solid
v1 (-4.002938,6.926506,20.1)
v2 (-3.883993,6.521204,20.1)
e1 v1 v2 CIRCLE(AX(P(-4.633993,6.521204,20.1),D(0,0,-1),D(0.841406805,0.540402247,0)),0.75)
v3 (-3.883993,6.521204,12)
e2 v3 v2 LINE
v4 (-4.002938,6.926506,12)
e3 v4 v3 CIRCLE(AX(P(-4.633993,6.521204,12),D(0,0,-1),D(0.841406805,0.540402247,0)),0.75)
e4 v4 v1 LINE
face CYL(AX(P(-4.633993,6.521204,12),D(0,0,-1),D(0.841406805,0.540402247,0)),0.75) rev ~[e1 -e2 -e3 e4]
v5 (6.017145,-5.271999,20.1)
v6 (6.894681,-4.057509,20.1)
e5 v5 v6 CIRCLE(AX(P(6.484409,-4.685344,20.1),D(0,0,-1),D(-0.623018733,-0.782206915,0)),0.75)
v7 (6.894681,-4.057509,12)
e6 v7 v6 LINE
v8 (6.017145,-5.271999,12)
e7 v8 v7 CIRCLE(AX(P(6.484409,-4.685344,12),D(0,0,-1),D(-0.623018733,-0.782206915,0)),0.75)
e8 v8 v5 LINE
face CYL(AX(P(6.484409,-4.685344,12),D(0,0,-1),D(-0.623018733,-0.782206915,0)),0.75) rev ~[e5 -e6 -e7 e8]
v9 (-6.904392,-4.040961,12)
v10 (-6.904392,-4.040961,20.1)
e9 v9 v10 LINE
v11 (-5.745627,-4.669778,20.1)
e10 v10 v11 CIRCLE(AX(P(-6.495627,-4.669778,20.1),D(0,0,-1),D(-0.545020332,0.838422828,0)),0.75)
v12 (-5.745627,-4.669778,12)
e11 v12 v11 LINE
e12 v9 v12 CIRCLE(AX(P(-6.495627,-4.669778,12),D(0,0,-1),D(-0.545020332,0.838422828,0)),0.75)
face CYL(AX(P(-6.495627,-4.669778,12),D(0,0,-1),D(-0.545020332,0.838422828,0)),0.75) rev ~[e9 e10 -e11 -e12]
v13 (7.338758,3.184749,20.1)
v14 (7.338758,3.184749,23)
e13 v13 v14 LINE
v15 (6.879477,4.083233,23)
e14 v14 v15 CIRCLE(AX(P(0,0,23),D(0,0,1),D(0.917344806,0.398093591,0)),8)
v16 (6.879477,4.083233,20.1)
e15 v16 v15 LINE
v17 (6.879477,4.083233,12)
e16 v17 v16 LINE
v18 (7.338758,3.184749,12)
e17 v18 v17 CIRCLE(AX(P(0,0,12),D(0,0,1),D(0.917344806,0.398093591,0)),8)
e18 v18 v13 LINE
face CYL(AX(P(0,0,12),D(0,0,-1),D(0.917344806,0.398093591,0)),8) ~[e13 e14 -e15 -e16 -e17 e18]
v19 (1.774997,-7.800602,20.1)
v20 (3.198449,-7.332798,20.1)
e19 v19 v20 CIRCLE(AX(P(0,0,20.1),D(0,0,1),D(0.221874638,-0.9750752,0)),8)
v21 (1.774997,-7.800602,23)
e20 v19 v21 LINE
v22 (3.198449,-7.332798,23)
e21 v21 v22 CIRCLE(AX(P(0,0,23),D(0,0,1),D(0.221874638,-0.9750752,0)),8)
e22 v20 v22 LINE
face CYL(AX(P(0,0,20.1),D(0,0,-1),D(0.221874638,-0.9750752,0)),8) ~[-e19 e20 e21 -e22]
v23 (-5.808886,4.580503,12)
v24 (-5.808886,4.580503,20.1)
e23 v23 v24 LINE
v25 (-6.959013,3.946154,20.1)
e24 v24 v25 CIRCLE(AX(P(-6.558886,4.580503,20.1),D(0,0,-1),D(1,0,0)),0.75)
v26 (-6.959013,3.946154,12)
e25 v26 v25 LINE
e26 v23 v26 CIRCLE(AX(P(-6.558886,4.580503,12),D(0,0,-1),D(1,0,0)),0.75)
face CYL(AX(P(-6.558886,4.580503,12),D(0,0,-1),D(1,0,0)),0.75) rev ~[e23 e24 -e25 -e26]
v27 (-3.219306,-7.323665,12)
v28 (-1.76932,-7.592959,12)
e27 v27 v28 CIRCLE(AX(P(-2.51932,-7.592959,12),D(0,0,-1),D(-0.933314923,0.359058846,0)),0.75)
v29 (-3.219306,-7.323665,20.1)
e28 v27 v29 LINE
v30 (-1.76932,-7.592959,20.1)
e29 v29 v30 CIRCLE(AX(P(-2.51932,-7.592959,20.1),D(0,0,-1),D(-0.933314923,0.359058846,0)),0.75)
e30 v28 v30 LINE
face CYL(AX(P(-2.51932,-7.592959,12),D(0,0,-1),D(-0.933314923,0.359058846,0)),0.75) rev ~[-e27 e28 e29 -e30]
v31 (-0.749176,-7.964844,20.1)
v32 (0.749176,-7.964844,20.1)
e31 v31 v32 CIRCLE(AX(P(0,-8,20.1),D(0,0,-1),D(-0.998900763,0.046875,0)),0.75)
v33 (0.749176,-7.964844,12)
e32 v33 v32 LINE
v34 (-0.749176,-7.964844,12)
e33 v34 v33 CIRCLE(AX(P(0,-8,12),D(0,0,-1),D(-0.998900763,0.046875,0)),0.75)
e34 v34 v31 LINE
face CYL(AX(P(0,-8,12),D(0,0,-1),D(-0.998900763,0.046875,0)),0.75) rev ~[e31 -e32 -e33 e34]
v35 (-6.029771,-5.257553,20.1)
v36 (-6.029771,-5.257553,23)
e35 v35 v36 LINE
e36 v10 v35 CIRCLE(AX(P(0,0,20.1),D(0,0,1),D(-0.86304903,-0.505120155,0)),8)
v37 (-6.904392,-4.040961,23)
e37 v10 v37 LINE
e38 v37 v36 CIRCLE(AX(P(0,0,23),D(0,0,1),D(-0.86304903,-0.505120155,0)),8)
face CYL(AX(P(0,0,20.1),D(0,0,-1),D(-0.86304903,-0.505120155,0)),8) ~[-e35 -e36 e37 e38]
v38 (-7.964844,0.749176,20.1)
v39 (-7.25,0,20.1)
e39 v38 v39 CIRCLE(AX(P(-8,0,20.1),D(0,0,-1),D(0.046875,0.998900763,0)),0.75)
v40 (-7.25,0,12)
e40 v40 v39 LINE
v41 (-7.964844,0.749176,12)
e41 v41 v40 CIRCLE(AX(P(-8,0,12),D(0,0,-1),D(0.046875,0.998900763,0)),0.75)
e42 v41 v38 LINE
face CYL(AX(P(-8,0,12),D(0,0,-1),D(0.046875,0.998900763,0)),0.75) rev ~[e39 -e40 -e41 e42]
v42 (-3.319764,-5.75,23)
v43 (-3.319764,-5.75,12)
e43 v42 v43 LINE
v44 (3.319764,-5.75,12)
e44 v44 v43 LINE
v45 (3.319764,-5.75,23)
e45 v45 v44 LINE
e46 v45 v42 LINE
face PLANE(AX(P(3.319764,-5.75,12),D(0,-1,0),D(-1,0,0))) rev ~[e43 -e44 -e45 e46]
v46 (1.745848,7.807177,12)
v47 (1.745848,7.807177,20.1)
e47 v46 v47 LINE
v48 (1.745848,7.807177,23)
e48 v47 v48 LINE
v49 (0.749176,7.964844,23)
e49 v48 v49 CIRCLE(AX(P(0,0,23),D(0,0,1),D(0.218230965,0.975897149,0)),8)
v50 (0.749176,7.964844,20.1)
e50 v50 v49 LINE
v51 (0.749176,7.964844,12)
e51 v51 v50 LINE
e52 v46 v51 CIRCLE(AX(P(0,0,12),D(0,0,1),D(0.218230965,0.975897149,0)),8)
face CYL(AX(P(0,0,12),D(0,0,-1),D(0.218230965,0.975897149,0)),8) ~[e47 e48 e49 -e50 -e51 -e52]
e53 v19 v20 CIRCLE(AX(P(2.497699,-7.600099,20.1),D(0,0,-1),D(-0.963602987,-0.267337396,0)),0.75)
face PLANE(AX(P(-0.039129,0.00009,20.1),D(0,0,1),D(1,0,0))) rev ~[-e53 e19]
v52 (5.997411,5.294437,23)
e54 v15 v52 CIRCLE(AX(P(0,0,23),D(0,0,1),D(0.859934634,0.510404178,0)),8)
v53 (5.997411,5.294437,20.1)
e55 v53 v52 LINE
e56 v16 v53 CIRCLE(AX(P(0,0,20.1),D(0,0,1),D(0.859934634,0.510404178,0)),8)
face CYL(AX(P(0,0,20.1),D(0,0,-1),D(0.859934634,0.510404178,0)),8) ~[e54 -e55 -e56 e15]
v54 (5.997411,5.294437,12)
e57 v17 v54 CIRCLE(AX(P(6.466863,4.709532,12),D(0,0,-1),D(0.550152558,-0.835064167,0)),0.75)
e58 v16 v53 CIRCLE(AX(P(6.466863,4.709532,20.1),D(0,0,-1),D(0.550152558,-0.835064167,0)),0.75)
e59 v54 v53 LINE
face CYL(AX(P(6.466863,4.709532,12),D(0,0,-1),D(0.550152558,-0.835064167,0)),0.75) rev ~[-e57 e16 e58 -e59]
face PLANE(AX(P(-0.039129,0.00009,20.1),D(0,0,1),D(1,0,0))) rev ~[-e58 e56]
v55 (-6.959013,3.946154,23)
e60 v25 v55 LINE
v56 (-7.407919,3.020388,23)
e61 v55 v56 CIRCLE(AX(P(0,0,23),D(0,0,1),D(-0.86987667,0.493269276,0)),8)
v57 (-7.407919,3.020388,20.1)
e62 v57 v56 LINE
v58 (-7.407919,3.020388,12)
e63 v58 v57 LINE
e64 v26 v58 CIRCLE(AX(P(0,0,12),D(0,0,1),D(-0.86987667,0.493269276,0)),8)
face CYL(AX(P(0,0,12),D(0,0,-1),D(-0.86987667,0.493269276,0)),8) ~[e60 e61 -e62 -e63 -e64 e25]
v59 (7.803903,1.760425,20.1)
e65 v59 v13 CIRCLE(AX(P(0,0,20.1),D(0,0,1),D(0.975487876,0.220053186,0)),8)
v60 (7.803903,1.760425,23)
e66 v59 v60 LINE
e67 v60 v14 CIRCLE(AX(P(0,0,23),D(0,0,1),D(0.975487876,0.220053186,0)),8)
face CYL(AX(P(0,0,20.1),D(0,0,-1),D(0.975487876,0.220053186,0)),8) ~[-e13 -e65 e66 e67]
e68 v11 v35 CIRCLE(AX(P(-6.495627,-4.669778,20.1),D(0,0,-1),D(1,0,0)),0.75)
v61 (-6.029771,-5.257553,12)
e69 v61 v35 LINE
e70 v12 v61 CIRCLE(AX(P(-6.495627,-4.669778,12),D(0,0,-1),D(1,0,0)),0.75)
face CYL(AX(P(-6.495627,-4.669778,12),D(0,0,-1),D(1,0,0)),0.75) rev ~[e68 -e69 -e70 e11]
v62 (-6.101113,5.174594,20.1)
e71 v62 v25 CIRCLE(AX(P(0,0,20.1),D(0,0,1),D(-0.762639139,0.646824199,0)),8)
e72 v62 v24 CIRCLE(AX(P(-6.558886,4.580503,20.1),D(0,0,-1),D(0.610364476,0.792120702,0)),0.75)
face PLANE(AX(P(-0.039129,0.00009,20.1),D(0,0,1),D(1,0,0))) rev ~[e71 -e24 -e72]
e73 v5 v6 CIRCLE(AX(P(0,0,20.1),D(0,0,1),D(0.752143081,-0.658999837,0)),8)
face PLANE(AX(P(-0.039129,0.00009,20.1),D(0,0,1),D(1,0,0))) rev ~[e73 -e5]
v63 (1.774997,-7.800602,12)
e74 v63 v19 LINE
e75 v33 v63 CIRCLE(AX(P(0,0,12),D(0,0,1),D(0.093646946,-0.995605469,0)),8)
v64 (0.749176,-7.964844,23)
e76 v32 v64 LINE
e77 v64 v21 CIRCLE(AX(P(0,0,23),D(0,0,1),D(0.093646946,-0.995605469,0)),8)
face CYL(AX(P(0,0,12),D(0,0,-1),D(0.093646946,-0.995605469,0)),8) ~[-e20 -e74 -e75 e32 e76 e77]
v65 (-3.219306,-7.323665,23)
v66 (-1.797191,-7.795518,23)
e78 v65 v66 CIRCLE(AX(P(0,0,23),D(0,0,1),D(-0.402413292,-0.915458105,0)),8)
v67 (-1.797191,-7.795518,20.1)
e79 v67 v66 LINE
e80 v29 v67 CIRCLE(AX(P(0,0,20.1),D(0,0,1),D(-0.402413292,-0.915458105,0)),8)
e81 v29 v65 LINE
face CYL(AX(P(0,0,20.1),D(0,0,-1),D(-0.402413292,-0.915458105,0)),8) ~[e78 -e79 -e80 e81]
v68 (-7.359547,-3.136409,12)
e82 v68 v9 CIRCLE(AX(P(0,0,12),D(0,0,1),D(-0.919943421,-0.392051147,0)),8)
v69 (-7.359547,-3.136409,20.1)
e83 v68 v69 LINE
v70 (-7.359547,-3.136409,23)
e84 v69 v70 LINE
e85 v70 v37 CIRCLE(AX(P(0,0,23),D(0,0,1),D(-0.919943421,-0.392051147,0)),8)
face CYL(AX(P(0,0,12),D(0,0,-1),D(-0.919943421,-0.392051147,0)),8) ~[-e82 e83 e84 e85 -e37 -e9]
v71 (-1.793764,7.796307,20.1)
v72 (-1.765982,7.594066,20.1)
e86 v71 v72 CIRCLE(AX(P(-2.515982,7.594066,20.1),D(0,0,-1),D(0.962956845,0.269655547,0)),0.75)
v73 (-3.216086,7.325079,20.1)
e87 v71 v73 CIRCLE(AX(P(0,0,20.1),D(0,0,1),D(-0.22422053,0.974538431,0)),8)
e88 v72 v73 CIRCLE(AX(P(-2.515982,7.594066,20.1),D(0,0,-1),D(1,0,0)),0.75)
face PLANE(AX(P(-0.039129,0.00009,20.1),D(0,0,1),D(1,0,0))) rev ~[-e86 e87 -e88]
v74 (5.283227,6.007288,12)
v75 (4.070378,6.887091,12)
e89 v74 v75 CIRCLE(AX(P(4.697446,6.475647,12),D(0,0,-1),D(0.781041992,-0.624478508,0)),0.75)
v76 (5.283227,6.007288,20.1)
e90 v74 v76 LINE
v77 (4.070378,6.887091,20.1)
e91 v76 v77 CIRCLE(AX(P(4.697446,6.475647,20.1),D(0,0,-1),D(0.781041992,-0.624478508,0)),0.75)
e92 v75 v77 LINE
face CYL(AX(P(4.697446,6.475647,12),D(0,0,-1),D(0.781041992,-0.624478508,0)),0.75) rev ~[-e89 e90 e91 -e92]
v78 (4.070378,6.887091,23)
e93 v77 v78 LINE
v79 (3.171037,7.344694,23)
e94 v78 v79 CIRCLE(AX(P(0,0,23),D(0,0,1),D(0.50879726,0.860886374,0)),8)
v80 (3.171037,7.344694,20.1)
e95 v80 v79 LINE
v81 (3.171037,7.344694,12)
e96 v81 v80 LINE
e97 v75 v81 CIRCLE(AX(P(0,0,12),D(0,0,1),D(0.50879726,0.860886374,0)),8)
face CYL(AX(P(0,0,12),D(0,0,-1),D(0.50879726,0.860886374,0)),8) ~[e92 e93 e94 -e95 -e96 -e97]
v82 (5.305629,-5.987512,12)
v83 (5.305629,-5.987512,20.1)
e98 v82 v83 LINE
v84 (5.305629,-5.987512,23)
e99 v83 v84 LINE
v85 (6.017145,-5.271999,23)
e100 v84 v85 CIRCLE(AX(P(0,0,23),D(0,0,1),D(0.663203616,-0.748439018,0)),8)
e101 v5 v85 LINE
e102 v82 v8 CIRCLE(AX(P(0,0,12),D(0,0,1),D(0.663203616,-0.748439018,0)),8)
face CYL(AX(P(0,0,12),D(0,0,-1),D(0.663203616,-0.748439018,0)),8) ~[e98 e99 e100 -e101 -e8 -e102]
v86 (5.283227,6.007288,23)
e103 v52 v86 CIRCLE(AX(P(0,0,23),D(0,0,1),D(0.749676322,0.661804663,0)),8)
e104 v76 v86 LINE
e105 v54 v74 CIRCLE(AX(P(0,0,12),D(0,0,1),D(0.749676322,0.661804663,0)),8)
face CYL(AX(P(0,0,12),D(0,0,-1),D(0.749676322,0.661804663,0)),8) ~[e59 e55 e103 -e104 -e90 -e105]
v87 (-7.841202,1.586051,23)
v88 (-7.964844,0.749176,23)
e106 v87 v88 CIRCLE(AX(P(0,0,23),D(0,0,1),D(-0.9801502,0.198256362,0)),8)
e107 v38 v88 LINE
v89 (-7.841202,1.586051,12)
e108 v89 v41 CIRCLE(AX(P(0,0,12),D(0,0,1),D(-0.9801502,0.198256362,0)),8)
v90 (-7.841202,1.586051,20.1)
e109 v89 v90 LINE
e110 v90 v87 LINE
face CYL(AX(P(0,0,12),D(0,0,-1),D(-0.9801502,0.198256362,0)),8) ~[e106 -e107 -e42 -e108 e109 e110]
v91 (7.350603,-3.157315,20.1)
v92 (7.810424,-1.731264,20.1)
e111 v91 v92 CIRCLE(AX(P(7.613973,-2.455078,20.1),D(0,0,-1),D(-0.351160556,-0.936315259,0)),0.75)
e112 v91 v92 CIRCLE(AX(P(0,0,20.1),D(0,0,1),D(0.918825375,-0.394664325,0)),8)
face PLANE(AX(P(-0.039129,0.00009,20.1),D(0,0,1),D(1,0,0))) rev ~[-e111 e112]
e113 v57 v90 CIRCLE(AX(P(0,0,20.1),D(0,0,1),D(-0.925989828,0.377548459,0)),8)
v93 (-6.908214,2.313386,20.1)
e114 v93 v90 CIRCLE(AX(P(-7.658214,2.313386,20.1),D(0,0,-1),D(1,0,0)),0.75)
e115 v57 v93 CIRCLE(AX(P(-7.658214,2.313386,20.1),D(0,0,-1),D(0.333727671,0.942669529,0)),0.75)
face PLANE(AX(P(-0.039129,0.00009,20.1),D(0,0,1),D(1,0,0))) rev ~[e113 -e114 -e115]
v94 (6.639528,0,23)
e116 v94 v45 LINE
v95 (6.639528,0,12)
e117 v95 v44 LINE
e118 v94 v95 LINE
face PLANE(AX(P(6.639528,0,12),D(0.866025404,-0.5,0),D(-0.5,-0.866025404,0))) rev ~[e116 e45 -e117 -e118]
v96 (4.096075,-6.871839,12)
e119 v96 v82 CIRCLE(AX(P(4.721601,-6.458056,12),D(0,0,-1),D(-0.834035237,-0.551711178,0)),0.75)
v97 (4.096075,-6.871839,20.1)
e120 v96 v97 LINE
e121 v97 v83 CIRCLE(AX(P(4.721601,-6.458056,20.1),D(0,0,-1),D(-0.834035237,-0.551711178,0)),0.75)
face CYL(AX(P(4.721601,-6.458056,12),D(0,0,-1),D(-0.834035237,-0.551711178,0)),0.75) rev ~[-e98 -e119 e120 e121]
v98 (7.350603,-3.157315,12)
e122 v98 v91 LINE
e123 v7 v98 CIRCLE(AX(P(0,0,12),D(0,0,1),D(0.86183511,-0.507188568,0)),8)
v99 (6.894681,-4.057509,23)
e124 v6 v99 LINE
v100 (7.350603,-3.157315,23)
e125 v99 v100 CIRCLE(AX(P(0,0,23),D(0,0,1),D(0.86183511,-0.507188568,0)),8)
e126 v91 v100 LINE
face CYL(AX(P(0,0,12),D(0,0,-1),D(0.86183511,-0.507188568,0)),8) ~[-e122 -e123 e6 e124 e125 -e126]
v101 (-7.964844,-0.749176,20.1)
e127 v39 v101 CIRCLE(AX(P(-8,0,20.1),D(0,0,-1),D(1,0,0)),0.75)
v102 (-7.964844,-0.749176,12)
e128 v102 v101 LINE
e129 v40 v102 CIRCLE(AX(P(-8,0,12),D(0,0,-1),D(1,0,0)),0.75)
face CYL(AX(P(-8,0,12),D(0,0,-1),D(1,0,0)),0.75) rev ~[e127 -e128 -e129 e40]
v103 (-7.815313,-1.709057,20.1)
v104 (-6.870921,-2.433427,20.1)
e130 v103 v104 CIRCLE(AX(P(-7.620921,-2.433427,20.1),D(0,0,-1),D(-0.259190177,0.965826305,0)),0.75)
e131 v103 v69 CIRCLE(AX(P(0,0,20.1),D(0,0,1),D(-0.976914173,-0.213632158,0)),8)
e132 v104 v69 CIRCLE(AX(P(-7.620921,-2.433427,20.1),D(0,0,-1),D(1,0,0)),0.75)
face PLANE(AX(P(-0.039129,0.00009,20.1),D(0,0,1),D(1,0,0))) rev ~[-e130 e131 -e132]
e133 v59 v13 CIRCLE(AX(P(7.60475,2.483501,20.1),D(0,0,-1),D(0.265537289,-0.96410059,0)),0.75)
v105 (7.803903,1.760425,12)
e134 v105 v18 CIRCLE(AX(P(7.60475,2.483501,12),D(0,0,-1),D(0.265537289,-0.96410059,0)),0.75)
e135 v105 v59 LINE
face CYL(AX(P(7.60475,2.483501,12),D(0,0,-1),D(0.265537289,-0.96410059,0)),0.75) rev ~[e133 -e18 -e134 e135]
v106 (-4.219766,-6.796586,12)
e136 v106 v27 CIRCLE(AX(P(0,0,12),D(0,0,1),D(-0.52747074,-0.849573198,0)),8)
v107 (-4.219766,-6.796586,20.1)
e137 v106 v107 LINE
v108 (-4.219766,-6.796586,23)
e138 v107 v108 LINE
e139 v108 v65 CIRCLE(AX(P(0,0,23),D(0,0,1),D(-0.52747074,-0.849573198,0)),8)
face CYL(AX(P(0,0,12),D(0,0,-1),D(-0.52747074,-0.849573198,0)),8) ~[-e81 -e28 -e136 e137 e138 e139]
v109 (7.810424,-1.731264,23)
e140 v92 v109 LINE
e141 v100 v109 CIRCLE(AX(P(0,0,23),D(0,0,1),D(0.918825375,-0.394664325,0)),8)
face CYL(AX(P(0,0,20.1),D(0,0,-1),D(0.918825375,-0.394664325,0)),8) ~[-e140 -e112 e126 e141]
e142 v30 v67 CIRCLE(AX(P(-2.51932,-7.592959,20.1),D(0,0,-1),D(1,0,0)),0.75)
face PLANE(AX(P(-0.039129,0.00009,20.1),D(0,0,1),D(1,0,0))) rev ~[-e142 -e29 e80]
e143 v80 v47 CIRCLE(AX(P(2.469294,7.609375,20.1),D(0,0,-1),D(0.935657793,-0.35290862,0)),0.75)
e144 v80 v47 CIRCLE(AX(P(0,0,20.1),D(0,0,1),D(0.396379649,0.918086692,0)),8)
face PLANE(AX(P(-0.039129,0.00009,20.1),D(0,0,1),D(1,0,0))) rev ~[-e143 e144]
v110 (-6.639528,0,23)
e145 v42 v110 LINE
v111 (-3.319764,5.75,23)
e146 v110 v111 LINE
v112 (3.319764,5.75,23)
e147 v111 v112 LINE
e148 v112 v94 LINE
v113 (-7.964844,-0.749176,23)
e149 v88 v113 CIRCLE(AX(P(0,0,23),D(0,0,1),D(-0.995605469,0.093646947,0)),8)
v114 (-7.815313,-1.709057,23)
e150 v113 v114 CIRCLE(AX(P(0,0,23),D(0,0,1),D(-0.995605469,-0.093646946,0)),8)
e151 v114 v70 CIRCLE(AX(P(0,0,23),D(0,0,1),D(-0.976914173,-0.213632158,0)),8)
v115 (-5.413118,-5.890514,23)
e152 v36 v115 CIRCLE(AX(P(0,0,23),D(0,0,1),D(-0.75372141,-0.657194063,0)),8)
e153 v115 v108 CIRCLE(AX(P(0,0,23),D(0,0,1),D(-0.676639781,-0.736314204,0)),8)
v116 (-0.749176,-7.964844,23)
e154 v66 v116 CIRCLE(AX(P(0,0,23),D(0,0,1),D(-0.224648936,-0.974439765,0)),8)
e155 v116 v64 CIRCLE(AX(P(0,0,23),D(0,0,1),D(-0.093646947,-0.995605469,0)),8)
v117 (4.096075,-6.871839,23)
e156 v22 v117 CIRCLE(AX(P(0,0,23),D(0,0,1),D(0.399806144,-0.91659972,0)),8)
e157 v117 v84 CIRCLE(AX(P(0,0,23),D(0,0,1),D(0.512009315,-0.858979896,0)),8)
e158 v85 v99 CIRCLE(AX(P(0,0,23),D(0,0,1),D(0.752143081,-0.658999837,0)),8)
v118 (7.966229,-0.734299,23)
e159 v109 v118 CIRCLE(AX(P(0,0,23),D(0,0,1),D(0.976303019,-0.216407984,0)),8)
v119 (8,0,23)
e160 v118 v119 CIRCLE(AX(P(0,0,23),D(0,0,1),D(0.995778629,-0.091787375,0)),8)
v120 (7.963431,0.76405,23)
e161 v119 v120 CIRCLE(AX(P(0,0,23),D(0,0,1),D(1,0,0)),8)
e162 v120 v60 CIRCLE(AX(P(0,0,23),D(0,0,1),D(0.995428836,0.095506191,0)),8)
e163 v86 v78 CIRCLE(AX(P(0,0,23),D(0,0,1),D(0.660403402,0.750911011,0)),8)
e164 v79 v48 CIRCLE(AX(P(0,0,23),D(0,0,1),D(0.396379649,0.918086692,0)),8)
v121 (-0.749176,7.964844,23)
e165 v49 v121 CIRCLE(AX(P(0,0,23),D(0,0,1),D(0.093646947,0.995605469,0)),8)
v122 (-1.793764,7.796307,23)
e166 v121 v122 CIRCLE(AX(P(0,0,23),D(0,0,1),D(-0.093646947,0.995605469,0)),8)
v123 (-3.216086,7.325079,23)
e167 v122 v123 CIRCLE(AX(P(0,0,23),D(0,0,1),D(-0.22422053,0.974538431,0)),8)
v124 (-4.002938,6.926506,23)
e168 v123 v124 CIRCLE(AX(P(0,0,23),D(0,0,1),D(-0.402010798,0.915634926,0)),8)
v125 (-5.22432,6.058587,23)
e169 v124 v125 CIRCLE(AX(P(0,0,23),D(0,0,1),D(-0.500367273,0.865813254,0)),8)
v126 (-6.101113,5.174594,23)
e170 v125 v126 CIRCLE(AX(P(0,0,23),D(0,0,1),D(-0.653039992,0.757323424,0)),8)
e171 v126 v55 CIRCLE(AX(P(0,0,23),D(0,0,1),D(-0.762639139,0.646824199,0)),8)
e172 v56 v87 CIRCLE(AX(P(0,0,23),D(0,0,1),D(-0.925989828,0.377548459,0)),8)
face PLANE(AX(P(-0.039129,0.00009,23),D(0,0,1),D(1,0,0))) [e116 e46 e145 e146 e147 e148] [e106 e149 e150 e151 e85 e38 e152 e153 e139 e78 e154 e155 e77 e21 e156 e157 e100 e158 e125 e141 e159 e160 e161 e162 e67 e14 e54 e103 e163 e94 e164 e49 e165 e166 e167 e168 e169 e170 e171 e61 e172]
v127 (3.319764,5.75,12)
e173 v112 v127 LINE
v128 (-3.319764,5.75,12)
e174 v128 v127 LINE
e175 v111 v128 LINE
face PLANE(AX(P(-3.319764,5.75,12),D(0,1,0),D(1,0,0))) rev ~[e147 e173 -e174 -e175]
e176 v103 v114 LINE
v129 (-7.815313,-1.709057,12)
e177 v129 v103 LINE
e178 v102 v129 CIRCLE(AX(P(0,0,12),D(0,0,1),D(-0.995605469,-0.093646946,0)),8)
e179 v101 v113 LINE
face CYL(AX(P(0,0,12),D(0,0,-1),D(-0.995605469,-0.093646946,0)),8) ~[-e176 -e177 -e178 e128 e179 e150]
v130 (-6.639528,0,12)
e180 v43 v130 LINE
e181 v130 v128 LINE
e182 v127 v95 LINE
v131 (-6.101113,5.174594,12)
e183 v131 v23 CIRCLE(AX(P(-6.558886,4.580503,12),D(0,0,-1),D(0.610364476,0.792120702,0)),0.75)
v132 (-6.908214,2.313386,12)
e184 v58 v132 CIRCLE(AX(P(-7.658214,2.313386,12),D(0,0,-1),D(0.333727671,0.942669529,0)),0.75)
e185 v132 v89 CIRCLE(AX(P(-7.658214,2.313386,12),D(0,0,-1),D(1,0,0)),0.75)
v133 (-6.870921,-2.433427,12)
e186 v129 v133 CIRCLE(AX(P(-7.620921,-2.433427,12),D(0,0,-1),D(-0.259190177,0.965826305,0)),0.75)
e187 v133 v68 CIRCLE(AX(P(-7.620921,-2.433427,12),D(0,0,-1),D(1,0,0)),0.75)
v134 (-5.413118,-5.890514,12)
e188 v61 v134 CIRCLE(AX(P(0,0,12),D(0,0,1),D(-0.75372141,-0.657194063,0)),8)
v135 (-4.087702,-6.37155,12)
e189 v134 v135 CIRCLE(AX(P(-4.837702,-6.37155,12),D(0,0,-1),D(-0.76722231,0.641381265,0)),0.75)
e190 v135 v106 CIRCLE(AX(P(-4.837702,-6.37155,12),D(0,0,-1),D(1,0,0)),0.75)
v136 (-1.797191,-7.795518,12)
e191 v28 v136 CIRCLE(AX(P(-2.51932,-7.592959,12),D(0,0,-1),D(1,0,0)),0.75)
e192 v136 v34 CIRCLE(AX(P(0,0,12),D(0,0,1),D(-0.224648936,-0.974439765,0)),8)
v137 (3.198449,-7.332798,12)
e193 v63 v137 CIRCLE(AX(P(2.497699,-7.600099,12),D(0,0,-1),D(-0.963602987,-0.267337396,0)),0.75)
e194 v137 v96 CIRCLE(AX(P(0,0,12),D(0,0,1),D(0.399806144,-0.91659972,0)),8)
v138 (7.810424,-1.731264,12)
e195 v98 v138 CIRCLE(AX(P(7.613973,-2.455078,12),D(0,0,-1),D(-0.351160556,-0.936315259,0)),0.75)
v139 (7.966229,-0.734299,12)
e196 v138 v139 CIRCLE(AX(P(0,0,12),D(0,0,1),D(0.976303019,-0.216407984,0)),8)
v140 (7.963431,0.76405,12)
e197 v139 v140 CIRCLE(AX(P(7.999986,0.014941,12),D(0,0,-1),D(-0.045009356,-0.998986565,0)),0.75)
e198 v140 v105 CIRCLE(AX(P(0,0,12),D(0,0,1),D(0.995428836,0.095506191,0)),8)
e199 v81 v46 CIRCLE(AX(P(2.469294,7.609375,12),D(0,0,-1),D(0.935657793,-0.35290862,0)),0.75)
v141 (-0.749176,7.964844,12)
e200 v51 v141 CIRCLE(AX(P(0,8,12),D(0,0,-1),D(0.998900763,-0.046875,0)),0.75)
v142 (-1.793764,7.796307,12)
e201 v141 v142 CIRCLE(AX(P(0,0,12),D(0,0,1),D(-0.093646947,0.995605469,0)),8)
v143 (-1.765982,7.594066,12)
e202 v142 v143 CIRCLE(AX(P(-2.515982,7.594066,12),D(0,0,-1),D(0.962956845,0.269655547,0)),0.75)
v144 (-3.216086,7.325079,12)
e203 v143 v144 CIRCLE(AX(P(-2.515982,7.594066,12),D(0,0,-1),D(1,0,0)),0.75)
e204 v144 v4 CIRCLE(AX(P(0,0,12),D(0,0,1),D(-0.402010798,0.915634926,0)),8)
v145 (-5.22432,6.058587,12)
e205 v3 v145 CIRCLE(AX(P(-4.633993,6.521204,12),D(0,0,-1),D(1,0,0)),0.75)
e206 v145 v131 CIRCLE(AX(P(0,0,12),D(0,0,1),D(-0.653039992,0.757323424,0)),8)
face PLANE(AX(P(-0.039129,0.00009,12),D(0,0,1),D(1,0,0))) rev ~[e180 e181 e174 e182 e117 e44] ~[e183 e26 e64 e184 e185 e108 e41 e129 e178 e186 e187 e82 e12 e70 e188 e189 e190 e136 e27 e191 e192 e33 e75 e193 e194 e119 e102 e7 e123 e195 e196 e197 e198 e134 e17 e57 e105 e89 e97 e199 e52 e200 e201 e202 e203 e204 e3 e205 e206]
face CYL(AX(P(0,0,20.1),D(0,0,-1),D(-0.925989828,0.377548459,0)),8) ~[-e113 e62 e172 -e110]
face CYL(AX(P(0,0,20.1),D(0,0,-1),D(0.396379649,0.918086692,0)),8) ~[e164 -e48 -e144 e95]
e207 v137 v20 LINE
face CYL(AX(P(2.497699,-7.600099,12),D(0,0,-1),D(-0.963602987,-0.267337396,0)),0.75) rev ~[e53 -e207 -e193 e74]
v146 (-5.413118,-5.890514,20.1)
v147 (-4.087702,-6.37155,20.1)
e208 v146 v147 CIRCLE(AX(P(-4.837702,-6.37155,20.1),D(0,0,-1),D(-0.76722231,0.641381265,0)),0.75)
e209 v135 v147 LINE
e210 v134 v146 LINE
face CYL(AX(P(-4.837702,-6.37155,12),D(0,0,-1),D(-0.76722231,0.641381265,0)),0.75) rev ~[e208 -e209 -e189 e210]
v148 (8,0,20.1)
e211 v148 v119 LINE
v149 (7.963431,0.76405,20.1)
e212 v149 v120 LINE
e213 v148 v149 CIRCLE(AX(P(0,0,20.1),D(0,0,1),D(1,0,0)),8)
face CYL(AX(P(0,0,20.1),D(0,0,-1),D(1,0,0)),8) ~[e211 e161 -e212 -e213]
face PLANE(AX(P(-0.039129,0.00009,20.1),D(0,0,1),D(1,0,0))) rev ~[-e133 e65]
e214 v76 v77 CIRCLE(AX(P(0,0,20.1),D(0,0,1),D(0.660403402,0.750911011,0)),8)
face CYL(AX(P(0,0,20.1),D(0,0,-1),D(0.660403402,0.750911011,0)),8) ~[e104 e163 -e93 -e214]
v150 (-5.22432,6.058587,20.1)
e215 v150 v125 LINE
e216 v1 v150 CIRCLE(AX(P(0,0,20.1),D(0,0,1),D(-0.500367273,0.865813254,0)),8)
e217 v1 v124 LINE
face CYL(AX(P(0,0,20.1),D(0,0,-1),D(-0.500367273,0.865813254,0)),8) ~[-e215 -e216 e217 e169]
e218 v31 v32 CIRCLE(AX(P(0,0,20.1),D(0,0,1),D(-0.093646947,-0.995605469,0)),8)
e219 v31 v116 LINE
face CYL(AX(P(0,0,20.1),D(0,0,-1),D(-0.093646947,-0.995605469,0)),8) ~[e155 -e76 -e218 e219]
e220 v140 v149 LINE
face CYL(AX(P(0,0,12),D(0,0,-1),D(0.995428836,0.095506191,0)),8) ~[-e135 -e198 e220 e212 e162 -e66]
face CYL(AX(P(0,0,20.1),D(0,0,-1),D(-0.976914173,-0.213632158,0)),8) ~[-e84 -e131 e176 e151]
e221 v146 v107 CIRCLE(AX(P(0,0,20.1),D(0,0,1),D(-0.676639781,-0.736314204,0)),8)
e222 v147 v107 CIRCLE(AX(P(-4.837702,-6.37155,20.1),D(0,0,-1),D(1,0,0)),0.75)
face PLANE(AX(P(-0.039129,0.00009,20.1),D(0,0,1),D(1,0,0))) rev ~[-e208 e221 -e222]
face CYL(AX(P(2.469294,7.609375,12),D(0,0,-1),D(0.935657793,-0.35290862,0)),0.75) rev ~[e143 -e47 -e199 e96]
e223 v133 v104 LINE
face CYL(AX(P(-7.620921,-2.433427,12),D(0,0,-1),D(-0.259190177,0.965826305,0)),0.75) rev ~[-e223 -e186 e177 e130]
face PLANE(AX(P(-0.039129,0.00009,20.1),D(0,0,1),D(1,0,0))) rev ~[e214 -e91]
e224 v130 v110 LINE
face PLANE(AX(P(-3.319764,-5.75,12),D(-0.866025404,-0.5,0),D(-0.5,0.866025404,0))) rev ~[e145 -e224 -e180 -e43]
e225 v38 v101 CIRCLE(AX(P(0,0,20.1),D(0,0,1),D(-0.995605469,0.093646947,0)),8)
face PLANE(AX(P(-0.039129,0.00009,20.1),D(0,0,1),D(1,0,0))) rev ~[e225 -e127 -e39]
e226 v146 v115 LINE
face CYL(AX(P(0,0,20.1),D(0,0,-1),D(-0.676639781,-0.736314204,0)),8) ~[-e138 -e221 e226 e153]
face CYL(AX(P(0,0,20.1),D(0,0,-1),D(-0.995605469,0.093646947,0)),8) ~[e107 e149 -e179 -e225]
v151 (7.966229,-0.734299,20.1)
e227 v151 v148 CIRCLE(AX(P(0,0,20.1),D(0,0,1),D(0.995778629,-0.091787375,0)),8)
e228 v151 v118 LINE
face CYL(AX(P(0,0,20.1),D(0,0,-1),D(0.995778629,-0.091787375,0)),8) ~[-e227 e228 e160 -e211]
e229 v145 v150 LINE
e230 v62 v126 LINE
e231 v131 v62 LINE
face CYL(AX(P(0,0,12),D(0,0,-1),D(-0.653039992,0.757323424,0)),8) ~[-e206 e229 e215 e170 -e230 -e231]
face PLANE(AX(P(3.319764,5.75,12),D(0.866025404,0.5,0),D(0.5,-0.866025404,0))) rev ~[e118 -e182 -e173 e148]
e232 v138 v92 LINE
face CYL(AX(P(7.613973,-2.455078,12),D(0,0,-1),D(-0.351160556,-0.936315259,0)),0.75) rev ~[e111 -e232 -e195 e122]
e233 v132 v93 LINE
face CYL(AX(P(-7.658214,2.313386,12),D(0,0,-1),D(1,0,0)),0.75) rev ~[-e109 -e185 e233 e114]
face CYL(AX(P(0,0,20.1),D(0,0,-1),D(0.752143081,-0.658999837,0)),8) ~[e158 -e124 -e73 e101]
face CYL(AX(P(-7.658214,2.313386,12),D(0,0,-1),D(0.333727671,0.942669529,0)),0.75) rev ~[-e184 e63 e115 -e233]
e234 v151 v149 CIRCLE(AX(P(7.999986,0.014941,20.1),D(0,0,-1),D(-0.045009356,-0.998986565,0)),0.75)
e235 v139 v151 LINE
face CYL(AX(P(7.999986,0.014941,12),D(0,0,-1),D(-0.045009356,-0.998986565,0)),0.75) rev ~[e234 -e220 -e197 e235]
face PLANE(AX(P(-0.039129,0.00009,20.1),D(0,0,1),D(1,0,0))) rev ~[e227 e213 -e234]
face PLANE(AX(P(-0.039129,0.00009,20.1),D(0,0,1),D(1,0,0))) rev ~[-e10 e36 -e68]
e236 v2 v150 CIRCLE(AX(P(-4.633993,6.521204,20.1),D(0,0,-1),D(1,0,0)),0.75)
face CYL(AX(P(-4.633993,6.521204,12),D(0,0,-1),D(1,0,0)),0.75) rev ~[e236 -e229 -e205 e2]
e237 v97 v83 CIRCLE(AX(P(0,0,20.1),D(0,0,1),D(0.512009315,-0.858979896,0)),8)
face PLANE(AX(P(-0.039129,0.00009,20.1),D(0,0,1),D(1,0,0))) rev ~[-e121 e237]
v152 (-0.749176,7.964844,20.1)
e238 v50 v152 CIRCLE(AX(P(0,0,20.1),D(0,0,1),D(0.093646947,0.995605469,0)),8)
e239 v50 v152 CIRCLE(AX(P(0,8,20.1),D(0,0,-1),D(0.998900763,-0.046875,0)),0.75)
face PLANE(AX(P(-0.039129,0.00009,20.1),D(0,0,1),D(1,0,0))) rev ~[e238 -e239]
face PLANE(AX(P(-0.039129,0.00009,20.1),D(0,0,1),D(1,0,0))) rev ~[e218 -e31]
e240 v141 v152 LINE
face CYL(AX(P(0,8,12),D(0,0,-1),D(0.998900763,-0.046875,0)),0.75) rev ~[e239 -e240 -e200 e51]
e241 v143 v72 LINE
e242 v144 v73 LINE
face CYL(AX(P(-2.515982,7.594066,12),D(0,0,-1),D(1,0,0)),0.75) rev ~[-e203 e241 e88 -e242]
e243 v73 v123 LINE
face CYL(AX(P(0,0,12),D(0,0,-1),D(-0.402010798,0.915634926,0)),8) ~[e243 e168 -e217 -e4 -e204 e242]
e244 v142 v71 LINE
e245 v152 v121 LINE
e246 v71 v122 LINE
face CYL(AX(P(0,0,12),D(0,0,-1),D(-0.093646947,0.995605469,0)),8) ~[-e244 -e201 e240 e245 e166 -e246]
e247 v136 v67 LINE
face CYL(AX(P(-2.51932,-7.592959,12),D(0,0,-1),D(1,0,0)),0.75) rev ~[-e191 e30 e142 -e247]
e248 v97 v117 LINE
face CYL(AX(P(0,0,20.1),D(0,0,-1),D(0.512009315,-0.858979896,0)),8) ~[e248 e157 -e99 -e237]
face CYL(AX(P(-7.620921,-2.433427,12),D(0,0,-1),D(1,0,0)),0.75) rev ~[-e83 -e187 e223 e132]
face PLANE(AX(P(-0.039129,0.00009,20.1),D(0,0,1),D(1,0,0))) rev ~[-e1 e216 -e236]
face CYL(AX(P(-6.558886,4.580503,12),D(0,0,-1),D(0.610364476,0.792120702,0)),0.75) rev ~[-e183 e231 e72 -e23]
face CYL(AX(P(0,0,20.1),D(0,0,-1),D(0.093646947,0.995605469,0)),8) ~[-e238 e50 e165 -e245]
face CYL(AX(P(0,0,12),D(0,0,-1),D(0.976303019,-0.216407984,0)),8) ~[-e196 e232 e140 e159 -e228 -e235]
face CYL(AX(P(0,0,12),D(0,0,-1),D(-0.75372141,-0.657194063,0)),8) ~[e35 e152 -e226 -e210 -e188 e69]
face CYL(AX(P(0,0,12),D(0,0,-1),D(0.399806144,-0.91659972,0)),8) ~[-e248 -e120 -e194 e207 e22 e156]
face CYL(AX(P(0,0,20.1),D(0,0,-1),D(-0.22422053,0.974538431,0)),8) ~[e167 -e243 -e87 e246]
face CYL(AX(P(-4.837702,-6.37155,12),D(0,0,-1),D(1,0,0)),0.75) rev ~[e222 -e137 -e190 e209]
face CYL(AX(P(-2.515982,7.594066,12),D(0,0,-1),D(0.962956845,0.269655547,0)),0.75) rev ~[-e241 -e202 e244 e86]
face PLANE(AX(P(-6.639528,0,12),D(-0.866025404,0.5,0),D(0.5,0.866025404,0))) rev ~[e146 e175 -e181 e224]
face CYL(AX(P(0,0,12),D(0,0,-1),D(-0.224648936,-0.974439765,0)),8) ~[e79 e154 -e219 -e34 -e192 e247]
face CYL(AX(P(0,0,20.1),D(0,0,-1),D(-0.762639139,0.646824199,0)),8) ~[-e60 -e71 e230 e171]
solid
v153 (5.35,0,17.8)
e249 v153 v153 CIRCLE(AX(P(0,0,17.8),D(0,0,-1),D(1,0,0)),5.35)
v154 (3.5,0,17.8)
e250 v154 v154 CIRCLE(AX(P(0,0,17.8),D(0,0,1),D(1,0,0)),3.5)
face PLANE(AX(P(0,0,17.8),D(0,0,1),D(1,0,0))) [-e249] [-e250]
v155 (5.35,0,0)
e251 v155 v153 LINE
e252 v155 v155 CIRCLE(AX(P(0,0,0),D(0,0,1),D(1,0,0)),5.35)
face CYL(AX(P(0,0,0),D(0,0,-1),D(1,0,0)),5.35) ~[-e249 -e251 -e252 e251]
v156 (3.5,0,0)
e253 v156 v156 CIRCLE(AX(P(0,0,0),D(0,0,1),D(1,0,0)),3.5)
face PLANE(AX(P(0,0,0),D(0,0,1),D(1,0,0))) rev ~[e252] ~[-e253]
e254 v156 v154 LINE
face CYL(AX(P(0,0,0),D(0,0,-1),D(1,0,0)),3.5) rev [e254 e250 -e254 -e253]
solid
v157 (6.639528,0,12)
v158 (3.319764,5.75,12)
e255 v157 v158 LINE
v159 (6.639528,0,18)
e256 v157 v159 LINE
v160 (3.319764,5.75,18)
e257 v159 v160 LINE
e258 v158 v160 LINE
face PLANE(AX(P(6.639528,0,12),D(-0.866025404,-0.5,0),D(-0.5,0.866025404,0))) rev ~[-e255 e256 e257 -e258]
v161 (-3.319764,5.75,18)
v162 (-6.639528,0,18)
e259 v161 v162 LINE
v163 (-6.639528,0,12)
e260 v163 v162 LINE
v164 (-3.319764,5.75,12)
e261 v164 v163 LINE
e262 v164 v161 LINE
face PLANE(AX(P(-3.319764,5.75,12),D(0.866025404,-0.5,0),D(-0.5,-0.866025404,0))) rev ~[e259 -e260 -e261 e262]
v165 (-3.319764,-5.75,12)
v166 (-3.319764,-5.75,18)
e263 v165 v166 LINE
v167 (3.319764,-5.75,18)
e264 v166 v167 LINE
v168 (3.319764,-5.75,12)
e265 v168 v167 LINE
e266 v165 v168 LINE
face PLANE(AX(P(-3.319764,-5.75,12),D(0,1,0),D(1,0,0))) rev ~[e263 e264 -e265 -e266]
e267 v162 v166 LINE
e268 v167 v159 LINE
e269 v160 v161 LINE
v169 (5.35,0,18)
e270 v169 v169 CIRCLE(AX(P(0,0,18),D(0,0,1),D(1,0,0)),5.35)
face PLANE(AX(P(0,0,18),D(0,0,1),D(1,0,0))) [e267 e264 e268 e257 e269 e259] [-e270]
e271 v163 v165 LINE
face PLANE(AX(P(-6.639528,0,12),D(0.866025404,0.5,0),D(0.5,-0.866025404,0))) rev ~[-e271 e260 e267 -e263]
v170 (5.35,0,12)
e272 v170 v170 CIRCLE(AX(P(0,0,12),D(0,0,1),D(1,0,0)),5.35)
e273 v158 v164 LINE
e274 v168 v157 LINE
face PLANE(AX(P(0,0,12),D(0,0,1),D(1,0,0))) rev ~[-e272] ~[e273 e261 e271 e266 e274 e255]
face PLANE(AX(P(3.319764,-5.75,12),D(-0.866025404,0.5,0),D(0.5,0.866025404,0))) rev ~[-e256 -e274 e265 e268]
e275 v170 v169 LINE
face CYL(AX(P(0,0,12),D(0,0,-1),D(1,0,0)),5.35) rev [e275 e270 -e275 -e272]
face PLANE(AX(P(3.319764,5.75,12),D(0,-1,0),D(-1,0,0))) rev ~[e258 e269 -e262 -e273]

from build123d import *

# Parameters (mm, degrees)
F0_R     = 5.35
F0_R_2   = 3.5
F1_DEPTH = 18
F2_START = 12
F2_DEPTH = 11
F3_START = 17.8
F3_DEPTH = 11.2
F4_START = 12
F4_DEPTH = 6
F5_START = 20.1
F5_DEPTH = 2.9


with BuildPart() as f1:
    # F0 (on Top) → F1 (new body)
    with BuildSketch(Plane.XY):
        Circle(F0_R)
        Circle(F0_R_2, mode=Mode.SUBTRACT)
    extrude(amount=F1_DEPTH)

    # F0 (on Top) → F3 (cut)
    with BuildSketch(Plane.XY.offset(F3_START)):
        Polygon((3.3197640478, 5.75), (-3.3197640478, 5.75), (-6.6395280957, 0), (-3.3197640478, -5.75), (3.3197640478, -5.75), (6.6395280957, 0), align=None)
        Circle(F0_R, mode=Mode.SUBTRACT)
        Circle(F0_R)
        Circle(F0_R_2, mode=Mode.SUBTRACT)
    extrude(amount=F3_DEPTH, mode=Mode.SUBTRACT)


with BuildPart() as f2:
    # F0 (on Top) → F2 (new body)
    with BuildSketch(Plane.XY.offset(F2_START)):
        with BuildLine():
            ThreePointArc((7.9662290313, -0.734299), (7.249987356, 0.0135402124), (7.9634306874, 0.7640495314))
            ThreePointArc((7.9634306874, 0.7640495314), (7.8993920147, 1.2647552327), (7.8039030048, 1.760425486))
            ThreePointArc((7.8039030048, 1.760425486), (6.8918047218, 2.2506727166), (7.3387584474, 3.1847487264))
            ThreePointArc((7.3387584474, 3.1847487264), (7.1232979745, 3.6412396195), (6.8794770755, 4.0832334206))
            ThreePointArc((6.8794770755, 4.0832334206), (5.8605942826, 4.2680129632), (5.9974105778, 5.2944373035))
            ThreePointArc((5.9974105778, 5.2944373035), (5.6515693665, 5.6621341998), (5.2832272131, 6.0072880916))
            ThreePointArc((5.2832272131, 6.0072880916), (4.2570601831, 5.868555069), (4.0703780814, 6.8870909878))
            ThreePointArc((4.0703780814, 6.8870909878), (3.6279296875, 7.130085987), (3.1710371931, 7.3446935348))
            ThreePointArc((3.1710371931, 7.3446935348), (2.23779755, 6.8959960937), (1.7458477256, 7.8071771928))
            ThreePointArc((1.7458477256, 7.8071771928), (1.25, 7.9017403146), (0.7491755723, 7.96484375))
            ThreePointArc((0.7491755723, 7.96484375), (0, 7.25), (-0.7491755723, 7.96484375))
            ThreePointArc((-0.7491755723, 7.96484375), (-1.2742593317, 7.897864468), (-1.7937642409, 7.7963074496))
            ThreePointArc((-1.7937642409, 7.7963074496), (-1.7729599285, 7.6961362905), (-1.7659818748, 7.5940657889))
            ThreePointArc((-1.7659818748, 7.5940657889), (-2.3791944191, 6.8566451545), (-3.2160863867, 7.3250794094))
            ThreePointArc((-3.2160863867, 7.3250794094), (-3.6150095618, 7.1366452811), (-4.002938187, 6.9265060363))
            ThreePointArc((-4.0029381869, 6.9265060363), (-3.9143436091, 6.7324017375), (-3.8839932904, 6.5212043507))
            ThreePointArc((-3.8839932904, 6.5212043507), (-4.3892944808, 5.8122456125), (-5.2243199373, 6.0585873925))
            ThreePointArc((-5.2243199373, 6.0585873925), (-5.6799401137, 5.6336737841), (-6.1011131111, 5.1745935884))
            ThreePointArc((-6.1011131111, 5.1745935884), (-5.8858968627, 4.9115393004), (-5.808886468, 4.5805030619))
            ThreePointArc((-5.808886468, 4.5805030619), (-6.1966677291, 3.9237705553), (-6.9590133618, 3.9461542077))
            ThreePointArc((-6.9590133618, 3.9461542077), (-7.1983640201, 3.4904950127), (-7.4079186208, 3.0203876751))
            ThreePointArc((-7.4079186208, 3.0203876751), (-7.0457513895, 2.7462701461), (-6.908214374, 2.3133855281))
            ThreePointArc((-6.908214374, 2.3133855281), (-7.1970963964, 1.7218872519), (-7.8412016025, 1.586050891))
            ThreePointArc((-7.8412016025, 1.586050891), (-7.9140923356, 1.1692486921), (-7.96484375, 0.7491755723))
            ThreePointArc((-7.96484375, 0.7491755723), (-7.4573826452, 0.5177512977), (-7.25, 0))
            ThreePointArc((-7.25, 0), (-7.4573826452, -0.5177512977), (-7.96484375, -0.7491755723))
            ThreePointArc((-7.96484375, -0.7491755723), (-7.9046621053, -1.2313882417), (-7.8153133827, -1.7090572638))
            ThreePointArc((-7.8153133827, -1.7090572638), (-7.1644640018, -1.8383242811), (-6.8709207496, -2.4334269927))
            ThreePointArc((-6.8709207496, -2.4334269927), (-7.0050757868, -2.8614865468), (-7.3595473677, -3.1364091797))
            ThreePointArc((-7.3595473677, -3.1364091797), (-7.1462960279, -3.5958939197), (-6.9043922439, -4.0409612399))
            ThreePointArc((-6.9043922439, -4.0409612399), (-6.1379077873, -4.0105841797), (-5.7456269953, -4.6697783607))
            ThreePointArc((-5.7456269953, -4.6697783607), (-5.820389337, -4.9962046233), (-6.029771275, -5.2575525077))
            ThreePointArc((-6.029771275, -5.2575525077), (-5.7301911057, -5.5825540654), (-5.4131182485, -5.8905136302))
            ThreePointArc((-5.4131182485, -5.8905136302), (-4.5818329457, -5.6665451291), (-4.0877015162, -6.3715495792))
            ThreePointArc((-4.0877015162, -6.3715495792), (-4.1214781939, -6.5940898059), (-4.219765923, -6.7965855807))
            ThreePointArc((-4.219765923, -6.7965855807), (-3.728860705, -7.0778243722), (-3.2193063364, -7.3236648416))
            ThreePointArc((-3.2193063364, -7.3236648416), (-2.382370599, -6.8555684268), (-1.7693201443, -7.592958976))
            ThreePointArc((-1.7693201443, -7.592958976), (-1.7763206521, -7.6951927992), (-1.7971914899, -7.7955181193))
            ThreePointArc((-1.7971914899, -7.7955181193), (-1.2759953355, -7.8975841815), (-0.7491755723, -7.96484375))
            ThreePointArc((-0.7491755723, -7.96484375), (0, -7.25), (0.7491755723, -7.96484375))
            ThreePointArc((0.7491755723, -7.96484375), (1.2647552327, -7.8993920147), (1.7749971061, -7.8006015969))
            ThreePointArc((1.7749971061, -7.8006015969), (2.2635400328, -6.8875893112), (3.1984491512, -7.3327977626))
            ThreePointArc((3.1984491512, -7.3327977626), (3.654536851, -7.1164851159), (4.0960745175, -6.8718391677))
            ThreePointArc((4.0960745175, -6.8718391677), (4.2789508566, -5.8526130546), (5.3056289271, -5.9875121452))
            ThreePointArc((5.3056289271, -5.9875121452), (5.6726792836, -5.6409848205), (6.0171446519, -5.2719986948))
            ThreePointArc((6.0171446519, -5.2719986948), (5.8764953858, -4.2460925544), (6.8946808779, -4.0575085448))
            ThreePointArc((6.8946808779, -4.0575085448), (7.1368491299, -3.6146071013), (7.3506030039, -3.1573145993))
            ThreePointArc((7.3506030039, -3.1573145993), (6.9001634126, -2.2249145781), (7.8104241494, -1.7312638756))
            ThreePointArc((7.8104241494, -1.7312638756), (7.9040610534, -1.2352404073), (7.9662290313, -0.734299))
        make_face()
        Polygon((-6.6395280957, 0), (-3.3197640478, 5.75), (3.3197640478, 5.75), (6.6395280957, 0), (3.3197640478, -5.75), (-3.3197640478, -5.75), align=None, mode=Mode.SUBTRACT)
    extrude(amount=F2_DEPTH)

    # F0 (on Top) → F5 (join)
    with BuildSketch(Plane.XY.offset(F5_START)):
        with BuildLine():
            ThreePointArc((7.9662290313, -0.734299), (7.249987356, 0.0135402124), (7.9634306874, 0.7640495314))
            ThreePointArc((7.9634306874, 0.7640495314), (7.8993920147, 1.2647552327), (7.8039030048, 1.760425486))
            ThreePointArc((7.8039030048, 1.760425486), (6.8918047218, 2.2506727166), (7.3387584474, 3.1847487264))
            ThreePointArc((7.3387584474, 3.1847487264), (7.1232979745, 3.6412396195), (6.8794770755, 4.0832334206))
            ThreePointArc((6.8794770755, 4.0832334206), (5.8605942826, 4.2680129632), (5.9974105778, 5.2944373035))
            ThreePointArc((5.9974105778, 5.2944373035), (5.6515693665, 5.6621341998), (5.2832272131, 6.0072880916))
            ThreePointArc((5.2832272131, 6.0072880916), (4.2570601831, 5.868555069), (4.0703780814, 6.8870909878))
            ThreePointArc((4.0703780814, 6.8870909878), (3.6279296875, 7.130085987), (3.1710371931, 7.3446935348))
            ThreePointArc((3.1710371931, 7.3446935348), (2.23779755, 6.8959960937), (1.7458477256, 7.8071771928))
            ThreePointArc((1.7458477256, 7.8071771928), (1.25, 7.9017403146), (0.7491755723, 7.96484375))
            ThreePointArc((0.7491755723, 7.96484375), (0, 7.25), (-0.7491755723, 7.96484375))
            ThreePointArc((-0.7491755723, 7.96484375), (-1.2742593317, 7.897864468), (-1.7937642409, 7.7963074496))
            ThreePointArc((-1.7937642409, 7.7963074496), (-1.7729599285, 7.6961362905), (-1.7659818748, 7.5940657889))
            ThreePointArc((-1.7659818748, 7.5940657889), (-2.3791944191, 6.8566451545), (-3.2160863867, 7.3250794094))
            ThreePointArc((-3.2160863867, 7.3250794094), (-3.6150095618, 7.1366452811), (-4.002938187, 6.9265060363))
            ThreePointArc((-4.0029381869, 6.9265060363), (-3.9143436091, 6.7324017375), (-3.8839932904, 6.5212043507))
            ThreePointArc((-3.8839932904, 6.5212043507), (-4.3892944808, 5.8122456125), (-5.2243199373, 6.0585873925))
            ThreePointArc((-5.2243199373, 6.0585873925), (-5.6799401137, 5.6336737841), (-6.1011131111, 5.1745935884))
            ThreePointArc((-6.1011131111, 5.1745935884), (-5.8858968627, 4.9115393004), (-5.808886468, 4.5805030619))
            ThreePointArc((-5.808886468, 4.5805030619), (-6.1966677291, 3.9237705553), (-6.9590133618, 3.9461542077))
            ThreePointArc((-6.9590133618, 3.9461542077), (-7.1983640201, 3.4904950127), (-7.4079186208, 3.0203876751))
            ThreePointArc((-7.4079186208, 3.0203876751), (-7.0457513895, 2.7462701461), (-6.908214374, 2.3133855281))
            ThreePointArc((-6.908214374, 2.3133855281), (-7.1970963964, 1.7218872519), (-7.8412016025, 1.586050891))
            ThreePointArc((-7.8412016025, 1.586050891), (-7.9140923356, 1.1692486921), (-7.96484375, 0.7491755723))
            ThreePointArc((-7.96484375, 0.7491755723), (-7.4573826452, 0.5177512977), (-7.25, 0))
            ThreePointArc((-7.25, 0), (-7.4573826452, -0.5177512977), (-7.96484375, -0.7491755723))
            ThreePointArc((-7.96484375, -0.7491755723), (-7.9046621053, -1.2313882417), (-7.8153133827, -1.7090572638))
            ThreePointArc((-7.8153133827, -1.7090572638), (-7.1644640018, -1.8383242811), (-6.8709207496, -2.4334269927))
            ThreePointArc((-6.8709207496, -2.4334269927), (-7.0050757868, -2.8614865468), (-7.3595473677, -3.1364091797))
            ThreePointArc((-7.3595473677, -3.1364091797), (-7.1462960279, -3.5958939197), (-6.9043922439, -4.0409612399))
            ThreePointArc((-6.9043922439, -4.0409612399), (-6.1379077873, -4.0105841797), (-5.7456269953, -4.6697783607))
            ThreePointArc((-5.7456269953, -4.6697783607), (-5.820389337, -4.9962046233), (-6.029771275, -5.2575525077))
            ThreePointArc((-6.029771275, -5.2575525077), (-5.7301911057, -5.5825540654), (-5.4131182485, -5.8905136302))
            ThreePointArc((-5.4131182485, -5.8905136302), (-4.5818329457, -5.6665451291), (-4.0877015162, -6.3715495792))
            ThreePointArc((-4.0877015162, -6.3715495792), (-4.1214781939, -6.5940898059), (-4.219765923, -6.7965855807))
            ThreePointArc((-4.219765923, -6.7965855807), (-3.728860705, -7.0778243722), (-3.2193063364, -7.3236648416))
            ThreePointArc((-3.2193063364, -7.3236648416), (-2.382370599, -6.8555684268), (-1.7693201443, -7.592958976))
            ThreePointArc((-1.7693201443, -7.592958976), (-1.7763206521, -7.6951927992), (-1.7971914899, -7.7955181193))
            ThreePointArc((-1.7971914899, -7.7955181193), (-1.2759953355, -7.8975841815), (-0.7491755723, -7.96484375))
            ThreePointArc((-0.7491755723, -7.96484375), (0, -7.25), (0.7491755723, -7.96484375))
            ThreePointArc((0.7491755723, -7.96484375), (1.2647552327, -7.8993920147), (1.7749971061, -7.8006015969))
            ThreePointArc((1.7749971061, -7.8006015969), (2.2635400328, -6.8875893112), (3.1984491512, -7.3327977626))
            ThreePointArc((3.1984491512, -7.3327977626), (3.654536851, -7.1164851159), (4.0960745175, -6.8718391677))
            ThreePointArc((4.0960745175, -6.8718391677), (4.2789508566, -5.8526130546), (5.3056289271, -5.9875121452))
            ThreePointArc((5.3056289271, -5.9875121452), (5.6726792836, -5.6409848205), (6.0171446519, -5.2719986948))
            ThreePointArc((6.0171446519, -5.2719986948), (5.8764953858, -4.2460925544), (6.8946808779, -4.0575085448))
            ThreePointArc((6.8946808779, -4.0575085448), (7.1368491299, -3.6146071013), (7.3506030039, -3.1573145993))
            ThreePointArc((7.3506030039, -3.1573145993), (6.9001634126, -2.2249145781), (7.8104241494, -1.7312638756))
            ThreePointArc((7.8104241494, -1.7312638756), (7.9040610534, -1.2352404073), (7.9662290313, -0.734299))
        make_face()
        Polygon((-6.6395280957, 0), (-3.3197640478, 5.75), (3.3197640478, 5.75), (6.6395280957, 0), (3.3197640478, -5.75), (-3.3197640478, -5.75), align=None, mode=Mode.SUBTRACT)
        with BuildLine():
            ThreePointArc((-7.8153133827, -1.7090572638), (-7.6209207496, -2.4334269927), (-7.3595473677, -3.1364091797))
            ThreePointArc((-7.3595473677, -3.1364091797), (-7.0050757868, -2.8614865468), (-6.8709207496, -2.4334269927))
            ThreePointArc((-6.8709207496, -2.4334269927), (-7.1644640018, -1.8383242811), (-7.8153133827, -1.7090572638))
        make_face()
        with BuildLine():
            ThreePointArc((-7.25, 0), (-7.4573826452, 0.5177512977), (-7.96484375, 0.7491755723))
            ThreePointArc((-7.96484375, 0.7491755723), (-8, 0), (-7.96484375, -0.7491755723))
            ThreePointArc((-7.96484375, -0.7491755723), (-7.4573826452, -0.5177512977), (-7.25, 0))
        make_face()
        with BuildLine():
            ThreePointArc((-6.908214374, 2.3133855281), (-7.0457513895, 2.7462701461), (-7.4079186208, 3.0203876751))
            ThreePointArc((-7.4079186208, 3.0203876751), (-7.658214374, 2.3133855281), (-7.8412016025, 1.586050891))
            ThreePointArc((-7.8412016025, 1.586050891), (-7.1970963964, 1.7218872519), (-6.908214374, 2.3133855281))
        make_face()
        with BuildLine():
            ThreePointArc((-5.808886468, 4.5805030619), (-5.8858968627, 4.9115393004), (-6.1011131111, 5.1745935884))
            ThreePointArc((-6.1011131111, 5.1745935884), (-6.558886468, 4.5805030619), (-6.9590133618, 3.9461542077))
            ThreePointArc((-6.9590133618, 3.9461542077), (-6.1966677291, 3.9237705553), (-5.808886468, 4.5805030619))
        make_face()
        with BuildLine():
            ThreePointArc((-3.8839932904, 6.5212043507), (-3.9143436091, 6.7324017375), (-4.0029381869, 6.9265060363))
            ThreePointArc((-4.002938187, 6.9265060363), (-4.6339932904, 6.5212043507), (-5.2243199373, 6.0585873925))
            ThreePointArc((-5.2243199373, 6.0585873925), (-4.3892944808, 5.8122456125), (-3.8839932904, 6.5212043507))
        make_face()
        with BuildLine():
            ThreePointArc((-1.7659818748, 7.5940657889), (-1.7729599285, 7.6961362905), (-1.7937642409, 7.7963074496))
            ThreePointArc((-1.7937642409, 7.7963074496), (-2.5159818748, 7.5940657889), (-3.2160863867, 7.3250794094))
            ThreePointArc((-3.2160863867, 7.3250794094), (-2.3791944191, 6.8566451545), (-1.7659818748, 7.5940657889))
        make_face()
        with BuildLine():
            ThreePointArc((-0.7491755723, 7.96484375), (0, 7.25), (0.7491755723, 7.96484375))
            ThreePointArc((0.7491755723, 7.96484375), (0, 8), (-0.7491755723, 7.96484375))
        make_face()
        with BuildLine():
            ThreePointArc((1.7458477256, 7.8071771928), (2.23779755, 6.8959960937), (3.1710371931, 7.3446935348))
            ThreePointArc((3.1710371931, 7.3446935348), (2.4692938483, 7.609375), (1.7458477256, 7.8071771928))
        make_face()
        with BuildLine():
            ThreePointArc((4.0703780814, 6.8870909878), (4.2570601831, 5.868555069), (5.2832272131, 6.0072880916))
            ThreePointArc((5.2832272131, 6.0072880916), (4.6974457193, 6.4756469727), (4.0703780814, 6.8870909878))
        make_face()
        with BuildLine():
            ThreePointArc((5.9974105778, 5.2944373035), (5.8605942826, 4.2680129632), (6.8794770755, 4.0832334206))
            ThreePointArc((6.8794770755, 4.0832334206), (6.4668626567, 4.7095315456), (5.9974105778, 5.2944373035))
        make_face()
        with BuildLine():
            ThreePointArc((7.3387584474, 3.1847487264), (6.8918047218, 2.2506727166), (7.8039030048, 1.760425486))
            ThreePointArc((7.8039030048, 1.760425486), (7.6047500378, 2.4835009286), (7.3387584474, 3.1847487264))
        make_face()
        with BuildLine():
            ThreePointArc((7.9662290313, -0.734299), (7.9915527981, -0.367537583), (8, 0))
            ThreePointArc((8, 0), (7.990852442, 0.38246209), (7.9634306874, 0.7640495314))
            ThreePointArc((7.9634306874, 0.7640495314), (7.249987356, 0.0135402124), (7.9662290313, -0.734299))
        make_face()
        with BuildLine():
            ThreePointArc((7.3506030039, -3.1573145993), (7.6139734208, -2.4550781552), (7.8104241494, -1.7312638756))
            ThreePointArc((7.8104241494, -1.7312638756), (6.9001634126, -2.2249145781), (7.3506030039, -3.1573145993))
        make_face()
        with BuildLine():
            ThreePointArc((6.0171446519, -5.2719986948), (6.4844087016, -4.6853435083), (6.8946808779, -4.0575085448))
            ThreePointArc((6.8946808779, -4.0575085448), (5.8764953858, -4.2460925544), (6.0171446519, -5.2719986948))
        make_face()
        with BuildLine():
            ThreePointArc((4.0960745175, -6.8718391677), (4.7216009452, -6.4580557844), (5.3056289271, -5.9875121452))
            ThreePointArc((5.3056289271, -5.9875121452), (4.2789508566, -5.8526130546), (4.0960745175, -6.8718391677))
        make_face()
        with BuildLine():
            ThreePointArc((1.7749971061, -7.8006015969), (2.4976993465, -7.6000985503), (3.1984491512, -7.3327977626))
            ThreePointArc((3.1984491512, -7.3327977626), (2.2635400328, -6.8875893112), (1.7749971061, -7.8006015969))
        make_face()
        with BuildLine():
            ThreePointArc((-0.7491755723, -7.96484375), (0, -8), (0.7491755723, -7.96484375))
            ThreePointArc((0.7491755723, -7.96484375), (0, -7.25), (-0.7491755723, -7.96484375))
        make_face()
        with BuildLine():
            ThreePointArc((-3.2193063364, -7.3236648416), (-2.5193201443, -7.592958976), (-1.7971914899, -7.7955181193))
            ThreePointArc((-1.7971914899, -7.7955181193), (-1.7763206521, -7.6951927992), (-1.7693201443, -7.592958976))
            ThreePointArc((-1.7693201443, -7.592958976), (-2.382370599, -6.8555684268), (-3.2193063364, -7.3236648416))
        make_face()
        with BuildLine():
            ThreePointArc((-5.4131182485, -5.8905136302), (-4.8377015162, -6.3715495792), (-4.219765923, -6.7965855807))
            ThreePointArc((-4.219765923, -6.7965855807), (-4.1214781939, -6.5940898059), (-4.0877015162, -6.3715495792))
            ThreePointArc((-4.0877015162, -6.3715495792), (-4.5818329457, -5.6665451291), (-5.4131182485, -5.8905136302))
        make_face()
        with BuildLine():
            ThreePointArc((-6.9043922439, -4.0409612399), (-6.4956269953, -4.6697783607), (-6.029771275, -5.2575525077))
            ThreePointArc((-6.029771275, -5.2575525077), (-5.820389337, -4.9962046233), (-5.7456269953, -4.6697783607))
            ThreePointArc((-5.7456269953, -4.6697783607), (-6.1379077873, -4.0105841797), (-6.9043922439, -4.0409612399))
        make_face()
    extrude(amount=F5_DEPTH)


with BuildPart() as f4:
    # F0 (on Top) → F4 (new body)
    with BuildSketch(Plane.XY.offset(F4_START)):
        Polygon((3.3197640478, 5.75), (-3.3197640478, 5.75), (-6.6395280957, 0), (-3.3197640478, -5.75), (3.3197640478, -5.75), (6.6395280957, 0), align=None)
        Circle(F0_R, mode=Mode.SUBTRACT)
    extrude(amount=F4_DEPTH)


solid = Compound([f1.part, f2.part, f4.part])
